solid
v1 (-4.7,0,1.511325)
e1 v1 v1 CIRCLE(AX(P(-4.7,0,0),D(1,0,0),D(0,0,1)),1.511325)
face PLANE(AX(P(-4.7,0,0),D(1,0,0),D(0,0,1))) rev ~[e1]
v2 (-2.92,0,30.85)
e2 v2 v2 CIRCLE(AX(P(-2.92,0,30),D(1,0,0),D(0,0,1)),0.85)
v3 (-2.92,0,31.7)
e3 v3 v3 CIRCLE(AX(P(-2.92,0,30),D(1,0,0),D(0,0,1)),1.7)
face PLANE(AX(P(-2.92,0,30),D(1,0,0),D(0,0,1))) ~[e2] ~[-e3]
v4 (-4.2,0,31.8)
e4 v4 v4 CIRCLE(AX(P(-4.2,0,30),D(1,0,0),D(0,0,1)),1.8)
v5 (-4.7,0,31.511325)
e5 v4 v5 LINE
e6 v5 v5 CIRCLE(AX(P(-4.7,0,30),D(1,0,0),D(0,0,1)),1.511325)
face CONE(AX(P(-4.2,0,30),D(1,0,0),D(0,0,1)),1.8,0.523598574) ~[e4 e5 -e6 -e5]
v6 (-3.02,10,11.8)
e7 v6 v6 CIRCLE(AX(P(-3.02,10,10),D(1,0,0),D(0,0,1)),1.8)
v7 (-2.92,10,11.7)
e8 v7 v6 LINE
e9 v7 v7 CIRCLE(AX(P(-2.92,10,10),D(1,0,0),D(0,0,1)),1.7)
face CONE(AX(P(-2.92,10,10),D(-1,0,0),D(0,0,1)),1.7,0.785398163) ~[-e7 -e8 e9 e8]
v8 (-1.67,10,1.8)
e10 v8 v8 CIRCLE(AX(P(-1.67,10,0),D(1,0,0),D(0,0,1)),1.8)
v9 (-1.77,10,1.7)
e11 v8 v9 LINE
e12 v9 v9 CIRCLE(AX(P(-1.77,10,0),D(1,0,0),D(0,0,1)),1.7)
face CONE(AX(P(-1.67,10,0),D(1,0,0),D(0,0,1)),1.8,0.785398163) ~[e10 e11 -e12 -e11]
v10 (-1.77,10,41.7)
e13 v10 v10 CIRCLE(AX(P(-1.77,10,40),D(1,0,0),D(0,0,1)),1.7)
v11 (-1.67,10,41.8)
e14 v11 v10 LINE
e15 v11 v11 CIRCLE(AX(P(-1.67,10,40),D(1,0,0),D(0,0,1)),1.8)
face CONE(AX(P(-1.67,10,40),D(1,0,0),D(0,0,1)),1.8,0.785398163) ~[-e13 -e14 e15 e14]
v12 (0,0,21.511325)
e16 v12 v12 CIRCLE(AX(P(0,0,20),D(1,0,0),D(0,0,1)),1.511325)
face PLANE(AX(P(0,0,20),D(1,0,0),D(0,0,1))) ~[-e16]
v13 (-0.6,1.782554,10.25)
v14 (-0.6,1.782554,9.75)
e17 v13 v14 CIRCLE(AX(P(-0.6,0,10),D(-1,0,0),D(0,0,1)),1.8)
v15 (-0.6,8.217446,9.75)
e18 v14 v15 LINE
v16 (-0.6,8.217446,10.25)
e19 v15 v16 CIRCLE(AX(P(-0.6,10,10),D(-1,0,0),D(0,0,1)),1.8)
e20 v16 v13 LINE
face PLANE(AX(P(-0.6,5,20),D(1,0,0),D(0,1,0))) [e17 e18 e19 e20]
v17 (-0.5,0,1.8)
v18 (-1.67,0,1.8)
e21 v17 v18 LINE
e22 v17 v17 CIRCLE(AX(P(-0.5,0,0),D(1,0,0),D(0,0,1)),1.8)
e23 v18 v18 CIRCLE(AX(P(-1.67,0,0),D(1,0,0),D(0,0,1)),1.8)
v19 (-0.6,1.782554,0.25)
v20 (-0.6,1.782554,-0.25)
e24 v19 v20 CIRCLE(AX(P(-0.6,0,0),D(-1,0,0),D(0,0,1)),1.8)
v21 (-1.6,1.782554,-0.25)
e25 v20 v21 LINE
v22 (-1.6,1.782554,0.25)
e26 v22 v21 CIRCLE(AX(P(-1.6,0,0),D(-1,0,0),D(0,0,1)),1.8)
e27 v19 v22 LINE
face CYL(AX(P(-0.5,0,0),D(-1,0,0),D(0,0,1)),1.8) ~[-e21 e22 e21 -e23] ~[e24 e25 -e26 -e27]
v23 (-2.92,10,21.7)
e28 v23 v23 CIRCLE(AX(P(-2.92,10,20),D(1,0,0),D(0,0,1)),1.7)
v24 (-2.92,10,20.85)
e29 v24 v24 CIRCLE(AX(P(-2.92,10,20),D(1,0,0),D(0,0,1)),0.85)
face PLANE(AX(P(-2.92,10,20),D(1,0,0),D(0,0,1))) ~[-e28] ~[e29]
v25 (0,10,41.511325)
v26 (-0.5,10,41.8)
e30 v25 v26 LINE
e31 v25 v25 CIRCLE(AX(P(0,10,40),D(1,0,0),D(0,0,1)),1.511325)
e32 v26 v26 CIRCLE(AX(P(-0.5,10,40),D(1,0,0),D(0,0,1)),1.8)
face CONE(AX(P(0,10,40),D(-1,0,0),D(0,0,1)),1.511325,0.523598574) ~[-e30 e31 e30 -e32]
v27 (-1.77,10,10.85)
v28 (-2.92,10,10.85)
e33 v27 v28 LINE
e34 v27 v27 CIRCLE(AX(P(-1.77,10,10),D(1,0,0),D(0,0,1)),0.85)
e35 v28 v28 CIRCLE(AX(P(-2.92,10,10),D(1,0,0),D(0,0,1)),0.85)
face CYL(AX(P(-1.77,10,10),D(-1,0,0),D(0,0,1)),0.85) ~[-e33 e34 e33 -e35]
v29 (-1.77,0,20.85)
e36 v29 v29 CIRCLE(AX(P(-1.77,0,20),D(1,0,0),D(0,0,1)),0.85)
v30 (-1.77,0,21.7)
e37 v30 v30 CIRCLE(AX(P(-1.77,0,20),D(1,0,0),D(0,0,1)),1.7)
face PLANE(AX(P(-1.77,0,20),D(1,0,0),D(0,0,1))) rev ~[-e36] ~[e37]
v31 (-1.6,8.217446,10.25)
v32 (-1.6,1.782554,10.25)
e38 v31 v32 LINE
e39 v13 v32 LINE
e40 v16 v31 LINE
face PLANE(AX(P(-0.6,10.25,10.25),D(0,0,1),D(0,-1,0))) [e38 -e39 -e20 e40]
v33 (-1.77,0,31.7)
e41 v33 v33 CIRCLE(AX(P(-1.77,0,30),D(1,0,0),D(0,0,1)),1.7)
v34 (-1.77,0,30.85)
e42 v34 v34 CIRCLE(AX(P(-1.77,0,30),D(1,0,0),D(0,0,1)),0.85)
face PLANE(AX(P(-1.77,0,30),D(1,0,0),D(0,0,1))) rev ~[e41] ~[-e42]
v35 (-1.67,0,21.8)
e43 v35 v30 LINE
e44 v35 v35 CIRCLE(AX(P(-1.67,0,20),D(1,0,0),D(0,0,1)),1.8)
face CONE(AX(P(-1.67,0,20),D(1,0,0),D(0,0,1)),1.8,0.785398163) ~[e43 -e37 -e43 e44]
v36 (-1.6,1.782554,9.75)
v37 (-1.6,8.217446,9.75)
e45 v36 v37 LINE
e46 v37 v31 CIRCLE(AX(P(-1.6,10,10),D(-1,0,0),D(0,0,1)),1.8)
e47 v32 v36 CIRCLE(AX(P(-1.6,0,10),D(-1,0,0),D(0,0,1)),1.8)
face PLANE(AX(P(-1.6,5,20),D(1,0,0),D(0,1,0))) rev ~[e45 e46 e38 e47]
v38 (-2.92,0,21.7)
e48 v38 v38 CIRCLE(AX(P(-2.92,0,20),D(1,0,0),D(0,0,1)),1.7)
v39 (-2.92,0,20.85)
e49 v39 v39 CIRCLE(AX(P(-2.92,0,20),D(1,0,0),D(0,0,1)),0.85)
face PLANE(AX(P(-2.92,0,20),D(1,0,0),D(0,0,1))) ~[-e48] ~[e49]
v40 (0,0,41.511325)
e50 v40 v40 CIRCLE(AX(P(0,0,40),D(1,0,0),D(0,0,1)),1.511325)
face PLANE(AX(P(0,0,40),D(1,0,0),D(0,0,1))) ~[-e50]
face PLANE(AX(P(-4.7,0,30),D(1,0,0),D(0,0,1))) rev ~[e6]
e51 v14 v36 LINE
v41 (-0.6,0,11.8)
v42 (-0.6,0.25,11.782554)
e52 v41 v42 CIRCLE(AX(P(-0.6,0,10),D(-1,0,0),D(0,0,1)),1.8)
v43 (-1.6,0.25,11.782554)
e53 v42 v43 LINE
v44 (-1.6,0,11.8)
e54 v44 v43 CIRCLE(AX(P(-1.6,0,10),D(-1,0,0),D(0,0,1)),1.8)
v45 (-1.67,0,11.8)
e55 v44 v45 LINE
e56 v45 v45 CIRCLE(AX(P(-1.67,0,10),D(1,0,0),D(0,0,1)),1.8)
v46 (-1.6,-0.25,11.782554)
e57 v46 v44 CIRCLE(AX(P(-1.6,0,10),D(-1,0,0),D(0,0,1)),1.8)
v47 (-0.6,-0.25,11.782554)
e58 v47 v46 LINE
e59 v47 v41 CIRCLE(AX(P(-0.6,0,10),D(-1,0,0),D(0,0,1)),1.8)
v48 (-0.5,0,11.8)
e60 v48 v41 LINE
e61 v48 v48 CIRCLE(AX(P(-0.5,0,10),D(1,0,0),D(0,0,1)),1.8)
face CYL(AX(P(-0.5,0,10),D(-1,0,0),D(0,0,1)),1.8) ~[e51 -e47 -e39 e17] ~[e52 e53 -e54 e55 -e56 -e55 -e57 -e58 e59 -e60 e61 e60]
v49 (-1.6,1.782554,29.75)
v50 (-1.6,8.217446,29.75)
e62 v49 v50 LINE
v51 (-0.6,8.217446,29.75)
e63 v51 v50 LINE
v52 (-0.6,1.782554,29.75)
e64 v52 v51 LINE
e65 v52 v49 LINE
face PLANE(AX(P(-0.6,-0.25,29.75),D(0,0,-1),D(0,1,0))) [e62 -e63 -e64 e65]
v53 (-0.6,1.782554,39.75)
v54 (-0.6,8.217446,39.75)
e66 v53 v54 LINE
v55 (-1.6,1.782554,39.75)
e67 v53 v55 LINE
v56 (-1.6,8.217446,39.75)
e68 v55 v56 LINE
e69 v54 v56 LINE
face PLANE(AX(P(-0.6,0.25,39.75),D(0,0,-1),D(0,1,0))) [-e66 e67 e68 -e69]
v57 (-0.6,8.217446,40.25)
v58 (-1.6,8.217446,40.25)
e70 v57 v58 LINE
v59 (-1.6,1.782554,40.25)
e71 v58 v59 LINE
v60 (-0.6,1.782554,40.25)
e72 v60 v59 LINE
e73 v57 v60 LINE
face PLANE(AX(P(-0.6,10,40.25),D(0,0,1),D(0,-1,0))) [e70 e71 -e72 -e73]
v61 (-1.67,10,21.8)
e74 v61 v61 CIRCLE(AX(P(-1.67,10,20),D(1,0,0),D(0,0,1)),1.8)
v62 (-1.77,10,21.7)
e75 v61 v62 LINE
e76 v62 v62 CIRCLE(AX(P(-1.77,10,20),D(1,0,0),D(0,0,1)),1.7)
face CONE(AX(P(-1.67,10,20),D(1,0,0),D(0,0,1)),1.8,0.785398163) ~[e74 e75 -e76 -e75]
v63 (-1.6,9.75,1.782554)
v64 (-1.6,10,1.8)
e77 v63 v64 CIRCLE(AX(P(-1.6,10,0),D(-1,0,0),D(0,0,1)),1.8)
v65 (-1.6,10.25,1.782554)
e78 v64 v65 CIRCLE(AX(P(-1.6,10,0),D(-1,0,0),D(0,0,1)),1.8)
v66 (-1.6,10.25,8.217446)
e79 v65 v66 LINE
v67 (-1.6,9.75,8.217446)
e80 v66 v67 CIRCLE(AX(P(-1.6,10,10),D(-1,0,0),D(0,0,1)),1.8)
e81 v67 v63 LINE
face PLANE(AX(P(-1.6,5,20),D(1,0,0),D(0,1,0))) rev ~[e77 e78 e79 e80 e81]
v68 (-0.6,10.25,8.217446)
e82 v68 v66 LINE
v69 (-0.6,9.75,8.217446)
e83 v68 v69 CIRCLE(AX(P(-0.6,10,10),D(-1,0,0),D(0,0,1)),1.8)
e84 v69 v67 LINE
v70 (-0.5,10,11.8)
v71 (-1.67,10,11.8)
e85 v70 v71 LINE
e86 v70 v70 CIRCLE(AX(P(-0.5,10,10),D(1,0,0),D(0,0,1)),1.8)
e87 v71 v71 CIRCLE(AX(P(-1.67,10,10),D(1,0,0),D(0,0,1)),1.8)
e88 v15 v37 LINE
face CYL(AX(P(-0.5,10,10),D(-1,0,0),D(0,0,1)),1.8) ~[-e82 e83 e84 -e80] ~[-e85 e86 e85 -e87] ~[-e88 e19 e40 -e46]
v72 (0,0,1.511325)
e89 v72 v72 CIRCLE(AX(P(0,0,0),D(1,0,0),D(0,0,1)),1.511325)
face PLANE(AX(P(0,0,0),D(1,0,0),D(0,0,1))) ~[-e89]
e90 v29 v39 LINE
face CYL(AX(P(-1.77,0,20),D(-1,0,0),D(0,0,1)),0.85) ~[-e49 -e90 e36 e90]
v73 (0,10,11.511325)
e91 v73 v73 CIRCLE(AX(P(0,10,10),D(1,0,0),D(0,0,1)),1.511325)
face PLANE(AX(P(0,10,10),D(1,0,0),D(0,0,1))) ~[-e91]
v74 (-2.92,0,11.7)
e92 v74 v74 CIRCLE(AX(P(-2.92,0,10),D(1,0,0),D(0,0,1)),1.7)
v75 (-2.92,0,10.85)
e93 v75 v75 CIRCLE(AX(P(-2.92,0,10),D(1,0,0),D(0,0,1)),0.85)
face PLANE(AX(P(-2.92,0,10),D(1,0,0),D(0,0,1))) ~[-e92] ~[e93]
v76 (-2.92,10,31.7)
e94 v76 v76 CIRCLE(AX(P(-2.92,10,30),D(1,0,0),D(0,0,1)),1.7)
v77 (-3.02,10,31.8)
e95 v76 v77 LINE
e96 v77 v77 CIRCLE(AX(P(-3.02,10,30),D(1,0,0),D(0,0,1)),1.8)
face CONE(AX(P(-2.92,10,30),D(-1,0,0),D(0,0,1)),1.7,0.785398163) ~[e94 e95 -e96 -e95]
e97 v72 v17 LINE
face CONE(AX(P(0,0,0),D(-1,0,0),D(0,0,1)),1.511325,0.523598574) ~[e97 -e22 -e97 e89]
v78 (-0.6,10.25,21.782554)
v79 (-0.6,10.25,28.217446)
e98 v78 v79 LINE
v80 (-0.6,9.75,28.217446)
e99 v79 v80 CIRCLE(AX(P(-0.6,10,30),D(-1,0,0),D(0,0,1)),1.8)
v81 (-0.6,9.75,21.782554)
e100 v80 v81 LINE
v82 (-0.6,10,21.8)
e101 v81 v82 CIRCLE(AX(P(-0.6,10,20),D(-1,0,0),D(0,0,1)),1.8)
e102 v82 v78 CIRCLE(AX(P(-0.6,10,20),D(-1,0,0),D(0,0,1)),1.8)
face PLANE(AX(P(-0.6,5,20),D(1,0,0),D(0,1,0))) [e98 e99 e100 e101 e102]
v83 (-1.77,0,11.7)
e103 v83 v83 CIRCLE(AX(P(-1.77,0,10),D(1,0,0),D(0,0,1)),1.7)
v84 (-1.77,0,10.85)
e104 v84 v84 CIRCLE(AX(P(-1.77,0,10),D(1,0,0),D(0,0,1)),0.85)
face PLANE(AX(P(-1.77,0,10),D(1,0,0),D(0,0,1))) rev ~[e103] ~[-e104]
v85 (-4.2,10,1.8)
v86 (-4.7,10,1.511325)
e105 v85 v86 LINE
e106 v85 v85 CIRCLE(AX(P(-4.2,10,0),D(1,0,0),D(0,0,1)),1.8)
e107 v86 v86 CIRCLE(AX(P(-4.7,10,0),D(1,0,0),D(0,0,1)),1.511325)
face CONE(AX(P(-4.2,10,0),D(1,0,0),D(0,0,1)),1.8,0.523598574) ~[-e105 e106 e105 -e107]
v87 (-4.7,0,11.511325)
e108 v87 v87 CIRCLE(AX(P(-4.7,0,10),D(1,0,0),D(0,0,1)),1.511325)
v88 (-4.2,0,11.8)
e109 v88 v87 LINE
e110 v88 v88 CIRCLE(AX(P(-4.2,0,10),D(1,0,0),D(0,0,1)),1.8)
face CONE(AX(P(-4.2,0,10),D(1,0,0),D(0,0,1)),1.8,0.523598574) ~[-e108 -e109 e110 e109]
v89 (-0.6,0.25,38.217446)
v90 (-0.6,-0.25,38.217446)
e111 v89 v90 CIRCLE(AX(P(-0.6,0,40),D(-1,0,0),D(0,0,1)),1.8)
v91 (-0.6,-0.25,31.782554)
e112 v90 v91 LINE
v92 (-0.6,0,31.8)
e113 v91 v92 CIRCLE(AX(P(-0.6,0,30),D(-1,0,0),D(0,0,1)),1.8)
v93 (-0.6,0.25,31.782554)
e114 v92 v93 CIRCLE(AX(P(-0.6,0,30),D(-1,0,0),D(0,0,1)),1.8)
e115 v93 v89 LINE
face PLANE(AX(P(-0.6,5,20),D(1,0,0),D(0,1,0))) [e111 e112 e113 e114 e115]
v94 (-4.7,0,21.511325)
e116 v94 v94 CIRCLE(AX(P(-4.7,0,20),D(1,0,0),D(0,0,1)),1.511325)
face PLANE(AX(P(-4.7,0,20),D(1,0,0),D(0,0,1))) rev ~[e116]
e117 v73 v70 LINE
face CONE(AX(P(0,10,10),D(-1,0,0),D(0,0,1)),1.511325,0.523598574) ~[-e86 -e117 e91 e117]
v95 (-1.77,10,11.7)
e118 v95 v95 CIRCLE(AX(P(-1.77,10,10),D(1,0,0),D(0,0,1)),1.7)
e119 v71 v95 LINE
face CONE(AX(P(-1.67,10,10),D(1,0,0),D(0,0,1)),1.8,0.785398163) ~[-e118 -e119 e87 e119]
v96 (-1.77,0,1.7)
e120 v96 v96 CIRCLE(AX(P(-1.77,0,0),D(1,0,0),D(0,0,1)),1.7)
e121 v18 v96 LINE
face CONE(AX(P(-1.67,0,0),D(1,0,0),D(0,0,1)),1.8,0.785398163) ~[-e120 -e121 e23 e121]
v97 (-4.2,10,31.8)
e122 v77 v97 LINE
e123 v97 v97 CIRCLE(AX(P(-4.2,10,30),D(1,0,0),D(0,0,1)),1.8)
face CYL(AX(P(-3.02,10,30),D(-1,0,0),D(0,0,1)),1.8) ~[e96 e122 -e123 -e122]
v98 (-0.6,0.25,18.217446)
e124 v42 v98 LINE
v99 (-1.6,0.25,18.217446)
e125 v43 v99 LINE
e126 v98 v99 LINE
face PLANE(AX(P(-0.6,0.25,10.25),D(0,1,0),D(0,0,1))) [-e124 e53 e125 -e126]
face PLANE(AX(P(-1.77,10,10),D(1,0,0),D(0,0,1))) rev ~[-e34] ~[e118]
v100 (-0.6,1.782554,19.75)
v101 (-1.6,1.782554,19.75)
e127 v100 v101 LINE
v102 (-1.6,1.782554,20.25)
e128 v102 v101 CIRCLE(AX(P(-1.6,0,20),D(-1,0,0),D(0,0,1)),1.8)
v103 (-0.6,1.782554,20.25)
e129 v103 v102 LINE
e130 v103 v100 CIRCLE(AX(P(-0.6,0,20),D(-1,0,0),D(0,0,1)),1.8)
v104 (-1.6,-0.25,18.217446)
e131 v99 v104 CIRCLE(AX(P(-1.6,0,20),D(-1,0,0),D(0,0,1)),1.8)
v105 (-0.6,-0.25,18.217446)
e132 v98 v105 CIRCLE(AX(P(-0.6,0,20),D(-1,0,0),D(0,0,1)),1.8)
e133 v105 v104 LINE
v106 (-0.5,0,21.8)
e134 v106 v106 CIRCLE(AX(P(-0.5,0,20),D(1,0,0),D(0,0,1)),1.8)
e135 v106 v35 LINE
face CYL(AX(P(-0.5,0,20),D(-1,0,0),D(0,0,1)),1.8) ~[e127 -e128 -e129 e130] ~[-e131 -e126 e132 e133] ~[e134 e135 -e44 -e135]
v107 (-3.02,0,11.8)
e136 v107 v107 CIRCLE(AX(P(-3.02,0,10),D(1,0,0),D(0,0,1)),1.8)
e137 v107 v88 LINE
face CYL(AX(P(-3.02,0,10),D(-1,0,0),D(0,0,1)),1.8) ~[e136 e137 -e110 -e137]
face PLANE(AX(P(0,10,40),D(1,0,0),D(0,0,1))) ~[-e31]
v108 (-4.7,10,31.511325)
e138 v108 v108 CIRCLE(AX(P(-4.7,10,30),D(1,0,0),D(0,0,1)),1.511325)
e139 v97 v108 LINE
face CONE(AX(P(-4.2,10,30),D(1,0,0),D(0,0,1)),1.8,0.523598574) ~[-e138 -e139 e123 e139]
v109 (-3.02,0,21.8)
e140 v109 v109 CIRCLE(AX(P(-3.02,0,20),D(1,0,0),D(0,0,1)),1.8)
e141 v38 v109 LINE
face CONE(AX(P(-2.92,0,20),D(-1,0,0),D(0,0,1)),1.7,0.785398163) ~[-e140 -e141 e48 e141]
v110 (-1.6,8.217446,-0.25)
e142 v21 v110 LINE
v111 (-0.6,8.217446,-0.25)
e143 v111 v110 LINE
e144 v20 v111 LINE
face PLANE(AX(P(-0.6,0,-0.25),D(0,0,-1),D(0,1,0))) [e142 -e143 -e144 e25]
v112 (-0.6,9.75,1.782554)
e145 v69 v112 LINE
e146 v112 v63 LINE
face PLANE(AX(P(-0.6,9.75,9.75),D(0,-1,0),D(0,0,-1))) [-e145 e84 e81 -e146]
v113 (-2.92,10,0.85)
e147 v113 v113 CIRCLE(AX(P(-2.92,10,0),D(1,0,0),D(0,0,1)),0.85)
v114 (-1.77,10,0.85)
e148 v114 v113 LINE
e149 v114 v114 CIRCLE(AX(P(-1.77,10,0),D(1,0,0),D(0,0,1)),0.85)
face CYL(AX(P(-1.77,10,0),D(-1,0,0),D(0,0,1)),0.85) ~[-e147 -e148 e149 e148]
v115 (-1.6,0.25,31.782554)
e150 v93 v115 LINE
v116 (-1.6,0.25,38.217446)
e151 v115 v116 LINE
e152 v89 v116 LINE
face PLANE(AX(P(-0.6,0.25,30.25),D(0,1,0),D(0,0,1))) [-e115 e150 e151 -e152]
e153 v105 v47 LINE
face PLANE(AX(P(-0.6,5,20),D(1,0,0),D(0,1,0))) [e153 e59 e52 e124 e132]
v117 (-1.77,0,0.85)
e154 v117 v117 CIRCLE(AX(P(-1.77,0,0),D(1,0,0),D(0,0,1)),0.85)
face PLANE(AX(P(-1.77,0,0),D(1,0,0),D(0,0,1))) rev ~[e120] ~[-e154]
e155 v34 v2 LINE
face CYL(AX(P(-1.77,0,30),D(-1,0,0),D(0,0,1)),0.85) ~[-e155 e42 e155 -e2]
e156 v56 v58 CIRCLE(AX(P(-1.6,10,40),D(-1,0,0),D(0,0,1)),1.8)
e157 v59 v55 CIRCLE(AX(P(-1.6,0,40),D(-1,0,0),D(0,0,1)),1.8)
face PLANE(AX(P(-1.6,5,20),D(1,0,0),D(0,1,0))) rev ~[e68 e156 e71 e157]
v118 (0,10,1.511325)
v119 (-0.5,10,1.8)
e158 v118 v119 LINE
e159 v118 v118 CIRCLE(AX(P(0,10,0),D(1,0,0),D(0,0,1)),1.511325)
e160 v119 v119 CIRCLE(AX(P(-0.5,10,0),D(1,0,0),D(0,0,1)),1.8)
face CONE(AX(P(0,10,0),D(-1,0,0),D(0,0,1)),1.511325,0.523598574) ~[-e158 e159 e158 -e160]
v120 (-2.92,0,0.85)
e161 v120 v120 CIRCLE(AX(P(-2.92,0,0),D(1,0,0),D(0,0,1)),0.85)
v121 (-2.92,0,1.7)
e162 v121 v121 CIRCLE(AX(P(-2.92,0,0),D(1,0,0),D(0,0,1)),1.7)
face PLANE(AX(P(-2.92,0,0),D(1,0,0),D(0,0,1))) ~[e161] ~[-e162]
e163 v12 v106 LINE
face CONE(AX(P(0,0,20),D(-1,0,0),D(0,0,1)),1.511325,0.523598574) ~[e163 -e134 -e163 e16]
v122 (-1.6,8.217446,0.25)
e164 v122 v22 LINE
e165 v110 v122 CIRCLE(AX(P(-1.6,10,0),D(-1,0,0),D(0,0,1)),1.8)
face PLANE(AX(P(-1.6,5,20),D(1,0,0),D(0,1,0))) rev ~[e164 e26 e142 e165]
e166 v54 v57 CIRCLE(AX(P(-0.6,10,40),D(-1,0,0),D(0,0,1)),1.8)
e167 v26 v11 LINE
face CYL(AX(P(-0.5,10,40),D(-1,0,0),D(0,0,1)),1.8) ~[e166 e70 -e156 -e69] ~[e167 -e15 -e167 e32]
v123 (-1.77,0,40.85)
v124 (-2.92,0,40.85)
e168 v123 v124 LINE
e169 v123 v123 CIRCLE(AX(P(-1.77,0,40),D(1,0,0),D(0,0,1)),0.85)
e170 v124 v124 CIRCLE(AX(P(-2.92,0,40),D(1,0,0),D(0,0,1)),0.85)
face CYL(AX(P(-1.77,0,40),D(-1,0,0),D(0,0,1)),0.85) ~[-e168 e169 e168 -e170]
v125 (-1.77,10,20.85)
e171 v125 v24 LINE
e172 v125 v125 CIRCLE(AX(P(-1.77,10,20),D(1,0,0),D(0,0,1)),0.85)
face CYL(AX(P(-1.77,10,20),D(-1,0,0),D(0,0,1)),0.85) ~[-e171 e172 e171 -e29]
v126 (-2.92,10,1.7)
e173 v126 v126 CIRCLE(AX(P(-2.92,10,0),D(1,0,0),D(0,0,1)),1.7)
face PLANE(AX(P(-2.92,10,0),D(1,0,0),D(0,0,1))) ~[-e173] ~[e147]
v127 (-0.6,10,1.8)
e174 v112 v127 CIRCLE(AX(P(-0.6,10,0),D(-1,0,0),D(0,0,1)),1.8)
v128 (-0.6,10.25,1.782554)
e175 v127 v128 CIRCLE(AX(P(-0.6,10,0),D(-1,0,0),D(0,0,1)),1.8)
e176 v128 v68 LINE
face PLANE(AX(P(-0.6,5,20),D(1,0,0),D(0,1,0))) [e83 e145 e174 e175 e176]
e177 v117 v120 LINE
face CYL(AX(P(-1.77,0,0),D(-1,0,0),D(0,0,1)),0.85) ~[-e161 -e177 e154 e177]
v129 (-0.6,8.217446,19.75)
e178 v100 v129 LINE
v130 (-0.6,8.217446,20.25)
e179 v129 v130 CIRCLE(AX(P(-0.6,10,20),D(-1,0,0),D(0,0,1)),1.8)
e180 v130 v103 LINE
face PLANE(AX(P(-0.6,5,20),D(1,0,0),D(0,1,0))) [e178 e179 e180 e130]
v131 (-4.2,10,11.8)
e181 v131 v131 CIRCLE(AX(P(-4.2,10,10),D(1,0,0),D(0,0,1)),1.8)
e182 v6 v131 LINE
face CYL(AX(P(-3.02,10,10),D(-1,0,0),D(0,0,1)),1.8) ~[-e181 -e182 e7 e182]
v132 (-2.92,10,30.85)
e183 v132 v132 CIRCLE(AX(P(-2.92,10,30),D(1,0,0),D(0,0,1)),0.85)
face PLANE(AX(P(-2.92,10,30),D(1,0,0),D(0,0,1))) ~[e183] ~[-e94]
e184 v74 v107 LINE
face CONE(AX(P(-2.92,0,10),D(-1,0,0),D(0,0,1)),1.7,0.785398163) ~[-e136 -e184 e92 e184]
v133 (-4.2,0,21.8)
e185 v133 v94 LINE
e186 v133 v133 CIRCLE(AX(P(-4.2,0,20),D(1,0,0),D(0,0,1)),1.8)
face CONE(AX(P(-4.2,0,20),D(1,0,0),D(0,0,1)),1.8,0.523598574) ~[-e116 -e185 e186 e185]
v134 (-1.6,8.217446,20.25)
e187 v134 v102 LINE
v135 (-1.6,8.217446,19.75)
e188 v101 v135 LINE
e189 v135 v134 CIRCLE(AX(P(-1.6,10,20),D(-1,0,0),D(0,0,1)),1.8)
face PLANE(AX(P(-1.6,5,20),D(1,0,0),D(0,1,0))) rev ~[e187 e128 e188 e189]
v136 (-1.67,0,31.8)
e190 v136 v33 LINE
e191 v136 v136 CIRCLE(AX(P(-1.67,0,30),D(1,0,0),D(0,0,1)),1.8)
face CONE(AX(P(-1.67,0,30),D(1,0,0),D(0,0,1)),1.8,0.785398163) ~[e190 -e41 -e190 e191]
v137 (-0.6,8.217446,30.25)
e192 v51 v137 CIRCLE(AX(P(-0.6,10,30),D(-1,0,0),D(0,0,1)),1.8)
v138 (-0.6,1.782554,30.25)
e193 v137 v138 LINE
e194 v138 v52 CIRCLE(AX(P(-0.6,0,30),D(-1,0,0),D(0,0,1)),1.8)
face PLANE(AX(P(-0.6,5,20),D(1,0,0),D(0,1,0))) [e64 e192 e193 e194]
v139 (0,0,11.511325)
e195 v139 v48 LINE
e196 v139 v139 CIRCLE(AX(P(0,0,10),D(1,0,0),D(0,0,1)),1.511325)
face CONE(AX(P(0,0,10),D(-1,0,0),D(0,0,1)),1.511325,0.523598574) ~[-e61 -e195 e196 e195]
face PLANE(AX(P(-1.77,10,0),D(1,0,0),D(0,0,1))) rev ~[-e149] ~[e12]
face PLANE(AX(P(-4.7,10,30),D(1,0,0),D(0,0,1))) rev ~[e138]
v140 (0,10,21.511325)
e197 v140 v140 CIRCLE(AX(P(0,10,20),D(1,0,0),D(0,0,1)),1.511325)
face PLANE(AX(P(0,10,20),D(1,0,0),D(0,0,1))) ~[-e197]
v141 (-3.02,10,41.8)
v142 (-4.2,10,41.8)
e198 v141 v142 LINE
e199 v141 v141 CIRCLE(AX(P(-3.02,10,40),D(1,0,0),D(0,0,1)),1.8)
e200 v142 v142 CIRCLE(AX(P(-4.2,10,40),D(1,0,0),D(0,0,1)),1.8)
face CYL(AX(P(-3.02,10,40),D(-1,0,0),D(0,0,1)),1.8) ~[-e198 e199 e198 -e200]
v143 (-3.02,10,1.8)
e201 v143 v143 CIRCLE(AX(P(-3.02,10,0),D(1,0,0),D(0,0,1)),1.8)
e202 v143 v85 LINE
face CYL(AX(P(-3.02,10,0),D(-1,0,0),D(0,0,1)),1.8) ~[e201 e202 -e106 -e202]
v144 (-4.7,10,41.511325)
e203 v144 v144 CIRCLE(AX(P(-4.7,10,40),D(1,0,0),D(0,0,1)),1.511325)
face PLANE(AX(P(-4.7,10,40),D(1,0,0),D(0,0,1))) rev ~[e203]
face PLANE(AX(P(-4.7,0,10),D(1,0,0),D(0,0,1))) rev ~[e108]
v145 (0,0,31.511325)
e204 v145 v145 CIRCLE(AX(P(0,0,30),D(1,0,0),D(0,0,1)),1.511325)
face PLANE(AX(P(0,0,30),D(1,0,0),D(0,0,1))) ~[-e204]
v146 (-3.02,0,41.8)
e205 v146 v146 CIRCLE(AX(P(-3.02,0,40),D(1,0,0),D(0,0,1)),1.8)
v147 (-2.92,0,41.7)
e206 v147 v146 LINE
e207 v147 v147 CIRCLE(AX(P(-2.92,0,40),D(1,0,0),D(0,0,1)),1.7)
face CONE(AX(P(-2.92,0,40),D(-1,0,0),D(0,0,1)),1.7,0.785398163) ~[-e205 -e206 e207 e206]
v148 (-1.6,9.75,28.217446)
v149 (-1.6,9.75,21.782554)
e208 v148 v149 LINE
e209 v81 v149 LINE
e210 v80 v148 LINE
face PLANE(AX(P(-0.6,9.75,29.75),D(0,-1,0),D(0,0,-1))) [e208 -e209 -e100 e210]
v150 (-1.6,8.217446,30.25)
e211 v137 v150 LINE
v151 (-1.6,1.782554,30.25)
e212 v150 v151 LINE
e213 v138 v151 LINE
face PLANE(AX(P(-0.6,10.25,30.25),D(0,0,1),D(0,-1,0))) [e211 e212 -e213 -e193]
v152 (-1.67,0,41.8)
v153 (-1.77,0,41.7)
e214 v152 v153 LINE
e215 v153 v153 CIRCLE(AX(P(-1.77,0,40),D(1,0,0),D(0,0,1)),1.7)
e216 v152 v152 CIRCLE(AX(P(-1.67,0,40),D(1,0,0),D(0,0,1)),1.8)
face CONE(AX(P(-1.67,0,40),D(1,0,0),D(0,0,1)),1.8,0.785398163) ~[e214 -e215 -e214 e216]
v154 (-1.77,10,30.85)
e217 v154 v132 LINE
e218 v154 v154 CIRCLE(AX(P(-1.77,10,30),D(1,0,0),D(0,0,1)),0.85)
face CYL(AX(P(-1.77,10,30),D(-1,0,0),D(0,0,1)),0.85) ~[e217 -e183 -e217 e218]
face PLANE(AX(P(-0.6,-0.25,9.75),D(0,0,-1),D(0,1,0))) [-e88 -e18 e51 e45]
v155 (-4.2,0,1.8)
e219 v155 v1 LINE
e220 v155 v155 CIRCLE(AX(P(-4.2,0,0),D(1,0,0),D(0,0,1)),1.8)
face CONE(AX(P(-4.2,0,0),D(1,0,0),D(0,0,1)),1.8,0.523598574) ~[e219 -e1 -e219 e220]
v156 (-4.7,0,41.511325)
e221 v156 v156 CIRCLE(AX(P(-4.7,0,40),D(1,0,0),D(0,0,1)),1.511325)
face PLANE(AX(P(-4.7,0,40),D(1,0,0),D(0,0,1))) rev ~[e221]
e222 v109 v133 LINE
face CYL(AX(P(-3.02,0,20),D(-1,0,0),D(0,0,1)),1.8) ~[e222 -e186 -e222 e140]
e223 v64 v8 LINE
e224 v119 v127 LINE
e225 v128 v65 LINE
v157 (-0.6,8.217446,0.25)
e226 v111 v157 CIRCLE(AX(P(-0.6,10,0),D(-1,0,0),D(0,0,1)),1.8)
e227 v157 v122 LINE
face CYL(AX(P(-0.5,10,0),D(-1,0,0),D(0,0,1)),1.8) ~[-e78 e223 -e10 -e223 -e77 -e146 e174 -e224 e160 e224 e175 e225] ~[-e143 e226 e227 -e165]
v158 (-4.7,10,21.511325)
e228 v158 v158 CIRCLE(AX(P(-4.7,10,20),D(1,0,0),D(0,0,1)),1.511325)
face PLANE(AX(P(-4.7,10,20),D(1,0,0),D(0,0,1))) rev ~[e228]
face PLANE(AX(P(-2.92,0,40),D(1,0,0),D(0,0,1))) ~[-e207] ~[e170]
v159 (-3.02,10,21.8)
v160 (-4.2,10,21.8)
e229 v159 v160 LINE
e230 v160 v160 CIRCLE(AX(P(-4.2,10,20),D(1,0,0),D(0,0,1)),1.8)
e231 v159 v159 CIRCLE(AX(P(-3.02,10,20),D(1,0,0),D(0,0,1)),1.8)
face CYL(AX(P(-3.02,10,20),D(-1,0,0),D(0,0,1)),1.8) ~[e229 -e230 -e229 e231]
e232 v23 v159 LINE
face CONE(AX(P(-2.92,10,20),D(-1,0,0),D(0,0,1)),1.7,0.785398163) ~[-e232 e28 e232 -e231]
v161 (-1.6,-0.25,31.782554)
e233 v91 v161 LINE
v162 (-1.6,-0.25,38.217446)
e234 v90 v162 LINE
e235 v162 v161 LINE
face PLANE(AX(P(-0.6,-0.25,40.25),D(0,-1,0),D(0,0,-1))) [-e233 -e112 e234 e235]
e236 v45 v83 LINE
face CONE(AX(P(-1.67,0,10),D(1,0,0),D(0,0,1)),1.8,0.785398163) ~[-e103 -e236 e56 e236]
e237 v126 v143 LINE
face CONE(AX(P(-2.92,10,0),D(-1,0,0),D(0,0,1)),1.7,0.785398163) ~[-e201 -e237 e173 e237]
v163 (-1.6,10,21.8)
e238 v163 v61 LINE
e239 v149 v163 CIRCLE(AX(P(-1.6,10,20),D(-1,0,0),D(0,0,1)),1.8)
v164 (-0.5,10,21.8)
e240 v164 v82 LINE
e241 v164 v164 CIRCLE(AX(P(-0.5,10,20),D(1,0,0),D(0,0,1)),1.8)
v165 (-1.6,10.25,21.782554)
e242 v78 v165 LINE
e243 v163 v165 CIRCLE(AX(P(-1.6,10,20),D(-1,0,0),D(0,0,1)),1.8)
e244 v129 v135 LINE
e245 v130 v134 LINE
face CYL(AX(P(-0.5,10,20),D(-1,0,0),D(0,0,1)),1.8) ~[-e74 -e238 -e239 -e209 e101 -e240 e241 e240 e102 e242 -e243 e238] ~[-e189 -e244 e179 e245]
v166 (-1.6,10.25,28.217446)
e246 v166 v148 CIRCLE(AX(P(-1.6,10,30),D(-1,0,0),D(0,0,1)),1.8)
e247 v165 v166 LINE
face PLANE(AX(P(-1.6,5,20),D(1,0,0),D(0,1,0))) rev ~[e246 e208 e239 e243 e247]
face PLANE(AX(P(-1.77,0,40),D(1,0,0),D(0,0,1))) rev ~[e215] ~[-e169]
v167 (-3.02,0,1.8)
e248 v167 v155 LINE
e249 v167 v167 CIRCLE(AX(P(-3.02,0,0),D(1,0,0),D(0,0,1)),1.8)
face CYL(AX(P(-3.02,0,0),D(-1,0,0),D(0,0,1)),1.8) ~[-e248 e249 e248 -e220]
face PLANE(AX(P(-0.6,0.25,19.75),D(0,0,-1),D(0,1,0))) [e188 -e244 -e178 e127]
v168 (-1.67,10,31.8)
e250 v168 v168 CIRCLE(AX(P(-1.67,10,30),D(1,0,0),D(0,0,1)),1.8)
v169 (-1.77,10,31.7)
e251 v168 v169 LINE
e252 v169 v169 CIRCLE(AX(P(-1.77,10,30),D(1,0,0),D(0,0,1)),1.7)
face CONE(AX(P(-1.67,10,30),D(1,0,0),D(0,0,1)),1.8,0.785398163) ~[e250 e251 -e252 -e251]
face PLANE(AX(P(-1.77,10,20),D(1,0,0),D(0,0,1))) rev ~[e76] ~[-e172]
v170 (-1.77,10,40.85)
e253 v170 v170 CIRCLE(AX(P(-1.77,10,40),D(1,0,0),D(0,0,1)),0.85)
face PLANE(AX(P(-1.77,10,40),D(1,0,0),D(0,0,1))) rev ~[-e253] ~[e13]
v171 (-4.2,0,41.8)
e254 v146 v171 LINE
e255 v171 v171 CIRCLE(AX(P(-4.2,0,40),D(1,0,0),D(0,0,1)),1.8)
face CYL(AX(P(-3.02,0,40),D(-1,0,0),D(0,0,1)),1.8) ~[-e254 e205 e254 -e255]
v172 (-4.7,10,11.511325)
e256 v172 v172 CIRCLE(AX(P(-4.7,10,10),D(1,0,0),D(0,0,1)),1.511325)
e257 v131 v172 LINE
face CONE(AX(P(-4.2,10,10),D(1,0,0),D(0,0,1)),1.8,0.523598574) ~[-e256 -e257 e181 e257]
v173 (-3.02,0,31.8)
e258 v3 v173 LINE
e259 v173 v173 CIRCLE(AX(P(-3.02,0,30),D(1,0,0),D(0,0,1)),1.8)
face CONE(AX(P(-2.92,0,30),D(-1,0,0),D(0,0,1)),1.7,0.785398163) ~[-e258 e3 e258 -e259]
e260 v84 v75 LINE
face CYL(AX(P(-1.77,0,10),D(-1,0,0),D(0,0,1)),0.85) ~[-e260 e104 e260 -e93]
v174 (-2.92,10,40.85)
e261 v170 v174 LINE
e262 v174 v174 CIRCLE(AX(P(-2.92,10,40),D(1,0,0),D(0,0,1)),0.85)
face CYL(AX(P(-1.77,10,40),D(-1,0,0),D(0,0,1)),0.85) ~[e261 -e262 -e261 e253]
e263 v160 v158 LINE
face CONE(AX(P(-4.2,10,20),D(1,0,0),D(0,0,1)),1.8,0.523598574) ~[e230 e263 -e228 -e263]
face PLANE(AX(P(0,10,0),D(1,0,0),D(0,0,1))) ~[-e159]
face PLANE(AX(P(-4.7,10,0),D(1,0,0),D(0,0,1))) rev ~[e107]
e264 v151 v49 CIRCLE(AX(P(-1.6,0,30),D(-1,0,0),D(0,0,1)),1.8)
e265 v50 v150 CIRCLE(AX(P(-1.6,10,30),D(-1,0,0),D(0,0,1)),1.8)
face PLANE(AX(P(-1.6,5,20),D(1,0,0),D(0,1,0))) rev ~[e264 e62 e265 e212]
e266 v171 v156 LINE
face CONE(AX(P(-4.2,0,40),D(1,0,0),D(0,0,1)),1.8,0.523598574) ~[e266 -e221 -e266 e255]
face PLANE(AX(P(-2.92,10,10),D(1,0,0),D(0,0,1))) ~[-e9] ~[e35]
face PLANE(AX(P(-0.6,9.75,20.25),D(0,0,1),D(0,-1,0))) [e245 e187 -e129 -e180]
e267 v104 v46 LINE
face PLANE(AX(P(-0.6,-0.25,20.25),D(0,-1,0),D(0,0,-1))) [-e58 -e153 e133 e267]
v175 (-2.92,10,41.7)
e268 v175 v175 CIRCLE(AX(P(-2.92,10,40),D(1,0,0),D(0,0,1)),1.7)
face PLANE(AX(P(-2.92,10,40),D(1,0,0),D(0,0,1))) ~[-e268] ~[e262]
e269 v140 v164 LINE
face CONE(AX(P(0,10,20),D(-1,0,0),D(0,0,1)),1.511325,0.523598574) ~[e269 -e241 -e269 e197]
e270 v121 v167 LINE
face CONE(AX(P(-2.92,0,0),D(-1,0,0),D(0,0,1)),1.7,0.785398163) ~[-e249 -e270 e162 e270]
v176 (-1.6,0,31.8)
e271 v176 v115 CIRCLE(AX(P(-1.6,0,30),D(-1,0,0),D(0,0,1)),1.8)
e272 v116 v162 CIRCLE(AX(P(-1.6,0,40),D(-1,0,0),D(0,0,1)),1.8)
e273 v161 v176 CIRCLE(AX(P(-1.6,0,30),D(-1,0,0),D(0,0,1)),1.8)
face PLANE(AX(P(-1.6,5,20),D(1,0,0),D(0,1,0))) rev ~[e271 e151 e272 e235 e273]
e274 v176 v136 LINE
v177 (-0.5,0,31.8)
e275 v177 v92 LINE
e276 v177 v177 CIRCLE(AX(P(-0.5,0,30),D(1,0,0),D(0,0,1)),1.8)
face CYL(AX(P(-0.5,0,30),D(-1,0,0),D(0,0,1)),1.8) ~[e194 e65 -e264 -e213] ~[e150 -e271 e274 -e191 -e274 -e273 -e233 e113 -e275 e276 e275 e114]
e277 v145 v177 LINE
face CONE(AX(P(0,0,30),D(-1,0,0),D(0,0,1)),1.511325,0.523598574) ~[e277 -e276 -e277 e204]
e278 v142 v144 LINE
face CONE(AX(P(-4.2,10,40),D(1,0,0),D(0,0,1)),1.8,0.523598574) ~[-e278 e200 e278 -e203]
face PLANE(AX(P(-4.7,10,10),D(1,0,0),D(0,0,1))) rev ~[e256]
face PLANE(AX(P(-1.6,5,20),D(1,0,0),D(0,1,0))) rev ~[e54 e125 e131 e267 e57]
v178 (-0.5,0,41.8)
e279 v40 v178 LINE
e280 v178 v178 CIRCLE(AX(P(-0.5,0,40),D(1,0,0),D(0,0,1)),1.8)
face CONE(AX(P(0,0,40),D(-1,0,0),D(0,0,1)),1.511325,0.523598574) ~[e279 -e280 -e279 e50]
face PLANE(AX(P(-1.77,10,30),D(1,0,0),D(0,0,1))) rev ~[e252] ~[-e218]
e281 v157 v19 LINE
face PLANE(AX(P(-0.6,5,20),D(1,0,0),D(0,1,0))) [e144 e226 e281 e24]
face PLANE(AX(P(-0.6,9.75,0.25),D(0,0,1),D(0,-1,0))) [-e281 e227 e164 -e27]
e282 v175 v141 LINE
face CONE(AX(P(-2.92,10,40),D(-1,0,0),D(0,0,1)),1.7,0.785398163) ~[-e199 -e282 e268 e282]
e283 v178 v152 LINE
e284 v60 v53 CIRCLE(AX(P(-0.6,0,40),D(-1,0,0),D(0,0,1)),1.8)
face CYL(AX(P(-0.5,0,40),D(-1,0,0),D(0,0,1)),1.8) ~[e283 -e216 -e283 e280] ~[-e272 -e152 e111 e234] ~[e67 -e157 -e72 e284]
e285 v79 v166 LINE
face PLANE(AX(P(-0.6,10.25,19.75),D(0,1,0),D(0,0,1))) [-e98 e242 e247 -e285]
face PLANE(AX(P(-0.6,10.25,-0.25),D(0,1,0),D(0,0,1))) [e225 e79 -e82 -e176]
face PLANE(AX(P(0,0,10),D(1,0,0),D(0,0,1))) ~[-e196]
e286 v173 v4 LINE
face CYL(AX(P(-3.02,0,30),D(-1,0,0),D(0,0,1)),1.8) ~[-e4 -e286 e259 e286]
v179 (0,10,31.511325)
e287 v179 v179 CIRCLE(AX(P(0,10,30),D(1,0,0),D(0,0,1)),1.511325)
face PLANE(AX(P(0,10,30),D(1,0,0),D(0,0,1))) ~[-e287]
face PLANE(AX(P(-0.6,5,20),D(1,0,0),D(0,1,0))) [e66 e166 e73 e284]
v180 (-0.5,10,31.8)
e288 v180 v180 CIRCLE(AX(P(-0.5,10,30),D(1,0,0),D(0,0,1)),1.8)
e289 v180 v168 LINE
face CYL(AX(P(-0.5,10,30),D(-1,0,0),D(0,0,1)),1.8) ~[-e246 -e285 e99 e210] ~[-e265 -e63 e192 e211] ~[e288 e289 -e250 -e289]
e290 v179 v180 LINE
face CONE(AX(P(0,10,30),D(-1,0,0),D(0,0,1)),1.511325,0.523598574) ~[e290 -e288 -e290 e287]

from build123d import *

# Parameters (mm, degrees)
PAD_DEPTH = 1


with BuildPart() as plastic_mapmode:
    # Sketch → Revolution (revolve)
    with BuildSketch(Plane.XZ):
        Polygon((0, 0), (0, 1.511325), (-0.5, 1.8), (-1.67, 1.8), (-1.77, 1.7), (-1.77, 0.85), (-2.92, 0.85), (-2.92, 1.7), (-3.02, 1.8), (-4.2, 1.8), (-4.7, 1.511325), (-4.7, 0), align=None)
    revolve(axis=Axis((0, 0, 0), (1, 0, 0)))


with BuildPart() as body004:
    # Body004 base: copy of PLASTIC-MAPMODE
    add(plastic_mapmode.part)


with BuildPart() as body004_1:
    # Body004 placement: moved
    add(body004.part.moved(Location((0, 0, 40))))


with BuildPart() as body010:
    # Body010 base: copy of Body004
    add(body004_1.part)


with BuildPart() as body010_1:
    # Body010 placement: moved
    add(body010.part.moved(Location((0, 10, 0))))


with BuildPart() as body003:
    # Body003 base: copy of PLASTIC-MAPMODE
    add(plastic_mapmode.part)


with BuildPart() as body003_1:
    # Body003 placement: moved
    add(body003.part.moved(Location((0, 0, 30))))


with BuildPart() as body009:
    # Body009 base: copy of Body003
    add(body003_1.part)


with BuildPart() as body009_1:
    # Body009 placement: moved
    add(body009.part.moved(Location((0, 10, 0))))


with BuildPart() as body002:
    # Body002 base: copy of PLASTIC-MAPMODE
    add(plastic_mapmode.part)


with BuildPart() as body002_1:
    # Body002 placement: moved
    add(body002.part.moved(Location((0, 0, 20))))


with BuildPart() as body008:
    # Body008 base: copy of Body002
    add(body002_1.part)


with BuildPart() as body008_1:
    # Body008 placement: moved
    add(body008.part.moved(Location((0, 10, 0))))


with BuildPart() as body006:
    # Body006 base: copy of PLASTIC-MAPMODE
    add(plastic_mapmode.part)


with BuildPart() as body006_1:
    # Body006 placement: moved
    add(body006.part.moved(Location((0, 10, 0))))


with BuildPart() as body001:
    # Body001 base: copy of PLASTIC-MAPMODE
    add(plastic_mapmode.part)


with BuildPart() as body001_1:
    # Body001 placement: moved
    add(body001.part.moved(Location((0, 0, 10))))


with BuildPart() as body007:
    # Body007 base: copy of Body001
    add(body001_1.part)


with BuildPart() as body007_1:
    # Body007 placement: moved
    add(body007.part.moved(Location((0, 10, 0))))


with BuildPart() as plastic_mapmode001:
    # Sketch002 → Pad (new body)
    with BuildSketch(Plane.YZ.offset(-0.6)):
        Polygon((0, -0.25), (10.25, -0.25), (10.25, 10.25), (0.25, 10.25), (0.25, 19.75), (10.25, 19.75), (10.25, 30.25), (0.25, 30.25), (0.25, 39.75), (10, 39.75), (10, 40.25), (-0.25, 40.25), (-0.25, 29.75), (9.75, 29.75), (9.75, 20.25), (-0.25, 20.25), (-0.25, 9.75), (9.75, 9.75), (9.75, 0.25), (0, 0.25), (0, 0), align=None)
    extrude(amount=-PAD_DEPTH)

    # Boolean: union Body010, Body009, Body008, Body006, Body007, Body004, Body002, Body003, Body001, PLASTIC-MAPMODE
    add(body010_1.part)
    add(body009_1.part)
    add(body008_1.part)
    add(body006_1.part)
    add(body007_1.part)
    add(body004_1.part)
    add(body002_1.part)
    add(body003_1.part)
    add(body001_1.part)
    add(plastic_mapmode.part)


solid = plastic_mapmode001.part
